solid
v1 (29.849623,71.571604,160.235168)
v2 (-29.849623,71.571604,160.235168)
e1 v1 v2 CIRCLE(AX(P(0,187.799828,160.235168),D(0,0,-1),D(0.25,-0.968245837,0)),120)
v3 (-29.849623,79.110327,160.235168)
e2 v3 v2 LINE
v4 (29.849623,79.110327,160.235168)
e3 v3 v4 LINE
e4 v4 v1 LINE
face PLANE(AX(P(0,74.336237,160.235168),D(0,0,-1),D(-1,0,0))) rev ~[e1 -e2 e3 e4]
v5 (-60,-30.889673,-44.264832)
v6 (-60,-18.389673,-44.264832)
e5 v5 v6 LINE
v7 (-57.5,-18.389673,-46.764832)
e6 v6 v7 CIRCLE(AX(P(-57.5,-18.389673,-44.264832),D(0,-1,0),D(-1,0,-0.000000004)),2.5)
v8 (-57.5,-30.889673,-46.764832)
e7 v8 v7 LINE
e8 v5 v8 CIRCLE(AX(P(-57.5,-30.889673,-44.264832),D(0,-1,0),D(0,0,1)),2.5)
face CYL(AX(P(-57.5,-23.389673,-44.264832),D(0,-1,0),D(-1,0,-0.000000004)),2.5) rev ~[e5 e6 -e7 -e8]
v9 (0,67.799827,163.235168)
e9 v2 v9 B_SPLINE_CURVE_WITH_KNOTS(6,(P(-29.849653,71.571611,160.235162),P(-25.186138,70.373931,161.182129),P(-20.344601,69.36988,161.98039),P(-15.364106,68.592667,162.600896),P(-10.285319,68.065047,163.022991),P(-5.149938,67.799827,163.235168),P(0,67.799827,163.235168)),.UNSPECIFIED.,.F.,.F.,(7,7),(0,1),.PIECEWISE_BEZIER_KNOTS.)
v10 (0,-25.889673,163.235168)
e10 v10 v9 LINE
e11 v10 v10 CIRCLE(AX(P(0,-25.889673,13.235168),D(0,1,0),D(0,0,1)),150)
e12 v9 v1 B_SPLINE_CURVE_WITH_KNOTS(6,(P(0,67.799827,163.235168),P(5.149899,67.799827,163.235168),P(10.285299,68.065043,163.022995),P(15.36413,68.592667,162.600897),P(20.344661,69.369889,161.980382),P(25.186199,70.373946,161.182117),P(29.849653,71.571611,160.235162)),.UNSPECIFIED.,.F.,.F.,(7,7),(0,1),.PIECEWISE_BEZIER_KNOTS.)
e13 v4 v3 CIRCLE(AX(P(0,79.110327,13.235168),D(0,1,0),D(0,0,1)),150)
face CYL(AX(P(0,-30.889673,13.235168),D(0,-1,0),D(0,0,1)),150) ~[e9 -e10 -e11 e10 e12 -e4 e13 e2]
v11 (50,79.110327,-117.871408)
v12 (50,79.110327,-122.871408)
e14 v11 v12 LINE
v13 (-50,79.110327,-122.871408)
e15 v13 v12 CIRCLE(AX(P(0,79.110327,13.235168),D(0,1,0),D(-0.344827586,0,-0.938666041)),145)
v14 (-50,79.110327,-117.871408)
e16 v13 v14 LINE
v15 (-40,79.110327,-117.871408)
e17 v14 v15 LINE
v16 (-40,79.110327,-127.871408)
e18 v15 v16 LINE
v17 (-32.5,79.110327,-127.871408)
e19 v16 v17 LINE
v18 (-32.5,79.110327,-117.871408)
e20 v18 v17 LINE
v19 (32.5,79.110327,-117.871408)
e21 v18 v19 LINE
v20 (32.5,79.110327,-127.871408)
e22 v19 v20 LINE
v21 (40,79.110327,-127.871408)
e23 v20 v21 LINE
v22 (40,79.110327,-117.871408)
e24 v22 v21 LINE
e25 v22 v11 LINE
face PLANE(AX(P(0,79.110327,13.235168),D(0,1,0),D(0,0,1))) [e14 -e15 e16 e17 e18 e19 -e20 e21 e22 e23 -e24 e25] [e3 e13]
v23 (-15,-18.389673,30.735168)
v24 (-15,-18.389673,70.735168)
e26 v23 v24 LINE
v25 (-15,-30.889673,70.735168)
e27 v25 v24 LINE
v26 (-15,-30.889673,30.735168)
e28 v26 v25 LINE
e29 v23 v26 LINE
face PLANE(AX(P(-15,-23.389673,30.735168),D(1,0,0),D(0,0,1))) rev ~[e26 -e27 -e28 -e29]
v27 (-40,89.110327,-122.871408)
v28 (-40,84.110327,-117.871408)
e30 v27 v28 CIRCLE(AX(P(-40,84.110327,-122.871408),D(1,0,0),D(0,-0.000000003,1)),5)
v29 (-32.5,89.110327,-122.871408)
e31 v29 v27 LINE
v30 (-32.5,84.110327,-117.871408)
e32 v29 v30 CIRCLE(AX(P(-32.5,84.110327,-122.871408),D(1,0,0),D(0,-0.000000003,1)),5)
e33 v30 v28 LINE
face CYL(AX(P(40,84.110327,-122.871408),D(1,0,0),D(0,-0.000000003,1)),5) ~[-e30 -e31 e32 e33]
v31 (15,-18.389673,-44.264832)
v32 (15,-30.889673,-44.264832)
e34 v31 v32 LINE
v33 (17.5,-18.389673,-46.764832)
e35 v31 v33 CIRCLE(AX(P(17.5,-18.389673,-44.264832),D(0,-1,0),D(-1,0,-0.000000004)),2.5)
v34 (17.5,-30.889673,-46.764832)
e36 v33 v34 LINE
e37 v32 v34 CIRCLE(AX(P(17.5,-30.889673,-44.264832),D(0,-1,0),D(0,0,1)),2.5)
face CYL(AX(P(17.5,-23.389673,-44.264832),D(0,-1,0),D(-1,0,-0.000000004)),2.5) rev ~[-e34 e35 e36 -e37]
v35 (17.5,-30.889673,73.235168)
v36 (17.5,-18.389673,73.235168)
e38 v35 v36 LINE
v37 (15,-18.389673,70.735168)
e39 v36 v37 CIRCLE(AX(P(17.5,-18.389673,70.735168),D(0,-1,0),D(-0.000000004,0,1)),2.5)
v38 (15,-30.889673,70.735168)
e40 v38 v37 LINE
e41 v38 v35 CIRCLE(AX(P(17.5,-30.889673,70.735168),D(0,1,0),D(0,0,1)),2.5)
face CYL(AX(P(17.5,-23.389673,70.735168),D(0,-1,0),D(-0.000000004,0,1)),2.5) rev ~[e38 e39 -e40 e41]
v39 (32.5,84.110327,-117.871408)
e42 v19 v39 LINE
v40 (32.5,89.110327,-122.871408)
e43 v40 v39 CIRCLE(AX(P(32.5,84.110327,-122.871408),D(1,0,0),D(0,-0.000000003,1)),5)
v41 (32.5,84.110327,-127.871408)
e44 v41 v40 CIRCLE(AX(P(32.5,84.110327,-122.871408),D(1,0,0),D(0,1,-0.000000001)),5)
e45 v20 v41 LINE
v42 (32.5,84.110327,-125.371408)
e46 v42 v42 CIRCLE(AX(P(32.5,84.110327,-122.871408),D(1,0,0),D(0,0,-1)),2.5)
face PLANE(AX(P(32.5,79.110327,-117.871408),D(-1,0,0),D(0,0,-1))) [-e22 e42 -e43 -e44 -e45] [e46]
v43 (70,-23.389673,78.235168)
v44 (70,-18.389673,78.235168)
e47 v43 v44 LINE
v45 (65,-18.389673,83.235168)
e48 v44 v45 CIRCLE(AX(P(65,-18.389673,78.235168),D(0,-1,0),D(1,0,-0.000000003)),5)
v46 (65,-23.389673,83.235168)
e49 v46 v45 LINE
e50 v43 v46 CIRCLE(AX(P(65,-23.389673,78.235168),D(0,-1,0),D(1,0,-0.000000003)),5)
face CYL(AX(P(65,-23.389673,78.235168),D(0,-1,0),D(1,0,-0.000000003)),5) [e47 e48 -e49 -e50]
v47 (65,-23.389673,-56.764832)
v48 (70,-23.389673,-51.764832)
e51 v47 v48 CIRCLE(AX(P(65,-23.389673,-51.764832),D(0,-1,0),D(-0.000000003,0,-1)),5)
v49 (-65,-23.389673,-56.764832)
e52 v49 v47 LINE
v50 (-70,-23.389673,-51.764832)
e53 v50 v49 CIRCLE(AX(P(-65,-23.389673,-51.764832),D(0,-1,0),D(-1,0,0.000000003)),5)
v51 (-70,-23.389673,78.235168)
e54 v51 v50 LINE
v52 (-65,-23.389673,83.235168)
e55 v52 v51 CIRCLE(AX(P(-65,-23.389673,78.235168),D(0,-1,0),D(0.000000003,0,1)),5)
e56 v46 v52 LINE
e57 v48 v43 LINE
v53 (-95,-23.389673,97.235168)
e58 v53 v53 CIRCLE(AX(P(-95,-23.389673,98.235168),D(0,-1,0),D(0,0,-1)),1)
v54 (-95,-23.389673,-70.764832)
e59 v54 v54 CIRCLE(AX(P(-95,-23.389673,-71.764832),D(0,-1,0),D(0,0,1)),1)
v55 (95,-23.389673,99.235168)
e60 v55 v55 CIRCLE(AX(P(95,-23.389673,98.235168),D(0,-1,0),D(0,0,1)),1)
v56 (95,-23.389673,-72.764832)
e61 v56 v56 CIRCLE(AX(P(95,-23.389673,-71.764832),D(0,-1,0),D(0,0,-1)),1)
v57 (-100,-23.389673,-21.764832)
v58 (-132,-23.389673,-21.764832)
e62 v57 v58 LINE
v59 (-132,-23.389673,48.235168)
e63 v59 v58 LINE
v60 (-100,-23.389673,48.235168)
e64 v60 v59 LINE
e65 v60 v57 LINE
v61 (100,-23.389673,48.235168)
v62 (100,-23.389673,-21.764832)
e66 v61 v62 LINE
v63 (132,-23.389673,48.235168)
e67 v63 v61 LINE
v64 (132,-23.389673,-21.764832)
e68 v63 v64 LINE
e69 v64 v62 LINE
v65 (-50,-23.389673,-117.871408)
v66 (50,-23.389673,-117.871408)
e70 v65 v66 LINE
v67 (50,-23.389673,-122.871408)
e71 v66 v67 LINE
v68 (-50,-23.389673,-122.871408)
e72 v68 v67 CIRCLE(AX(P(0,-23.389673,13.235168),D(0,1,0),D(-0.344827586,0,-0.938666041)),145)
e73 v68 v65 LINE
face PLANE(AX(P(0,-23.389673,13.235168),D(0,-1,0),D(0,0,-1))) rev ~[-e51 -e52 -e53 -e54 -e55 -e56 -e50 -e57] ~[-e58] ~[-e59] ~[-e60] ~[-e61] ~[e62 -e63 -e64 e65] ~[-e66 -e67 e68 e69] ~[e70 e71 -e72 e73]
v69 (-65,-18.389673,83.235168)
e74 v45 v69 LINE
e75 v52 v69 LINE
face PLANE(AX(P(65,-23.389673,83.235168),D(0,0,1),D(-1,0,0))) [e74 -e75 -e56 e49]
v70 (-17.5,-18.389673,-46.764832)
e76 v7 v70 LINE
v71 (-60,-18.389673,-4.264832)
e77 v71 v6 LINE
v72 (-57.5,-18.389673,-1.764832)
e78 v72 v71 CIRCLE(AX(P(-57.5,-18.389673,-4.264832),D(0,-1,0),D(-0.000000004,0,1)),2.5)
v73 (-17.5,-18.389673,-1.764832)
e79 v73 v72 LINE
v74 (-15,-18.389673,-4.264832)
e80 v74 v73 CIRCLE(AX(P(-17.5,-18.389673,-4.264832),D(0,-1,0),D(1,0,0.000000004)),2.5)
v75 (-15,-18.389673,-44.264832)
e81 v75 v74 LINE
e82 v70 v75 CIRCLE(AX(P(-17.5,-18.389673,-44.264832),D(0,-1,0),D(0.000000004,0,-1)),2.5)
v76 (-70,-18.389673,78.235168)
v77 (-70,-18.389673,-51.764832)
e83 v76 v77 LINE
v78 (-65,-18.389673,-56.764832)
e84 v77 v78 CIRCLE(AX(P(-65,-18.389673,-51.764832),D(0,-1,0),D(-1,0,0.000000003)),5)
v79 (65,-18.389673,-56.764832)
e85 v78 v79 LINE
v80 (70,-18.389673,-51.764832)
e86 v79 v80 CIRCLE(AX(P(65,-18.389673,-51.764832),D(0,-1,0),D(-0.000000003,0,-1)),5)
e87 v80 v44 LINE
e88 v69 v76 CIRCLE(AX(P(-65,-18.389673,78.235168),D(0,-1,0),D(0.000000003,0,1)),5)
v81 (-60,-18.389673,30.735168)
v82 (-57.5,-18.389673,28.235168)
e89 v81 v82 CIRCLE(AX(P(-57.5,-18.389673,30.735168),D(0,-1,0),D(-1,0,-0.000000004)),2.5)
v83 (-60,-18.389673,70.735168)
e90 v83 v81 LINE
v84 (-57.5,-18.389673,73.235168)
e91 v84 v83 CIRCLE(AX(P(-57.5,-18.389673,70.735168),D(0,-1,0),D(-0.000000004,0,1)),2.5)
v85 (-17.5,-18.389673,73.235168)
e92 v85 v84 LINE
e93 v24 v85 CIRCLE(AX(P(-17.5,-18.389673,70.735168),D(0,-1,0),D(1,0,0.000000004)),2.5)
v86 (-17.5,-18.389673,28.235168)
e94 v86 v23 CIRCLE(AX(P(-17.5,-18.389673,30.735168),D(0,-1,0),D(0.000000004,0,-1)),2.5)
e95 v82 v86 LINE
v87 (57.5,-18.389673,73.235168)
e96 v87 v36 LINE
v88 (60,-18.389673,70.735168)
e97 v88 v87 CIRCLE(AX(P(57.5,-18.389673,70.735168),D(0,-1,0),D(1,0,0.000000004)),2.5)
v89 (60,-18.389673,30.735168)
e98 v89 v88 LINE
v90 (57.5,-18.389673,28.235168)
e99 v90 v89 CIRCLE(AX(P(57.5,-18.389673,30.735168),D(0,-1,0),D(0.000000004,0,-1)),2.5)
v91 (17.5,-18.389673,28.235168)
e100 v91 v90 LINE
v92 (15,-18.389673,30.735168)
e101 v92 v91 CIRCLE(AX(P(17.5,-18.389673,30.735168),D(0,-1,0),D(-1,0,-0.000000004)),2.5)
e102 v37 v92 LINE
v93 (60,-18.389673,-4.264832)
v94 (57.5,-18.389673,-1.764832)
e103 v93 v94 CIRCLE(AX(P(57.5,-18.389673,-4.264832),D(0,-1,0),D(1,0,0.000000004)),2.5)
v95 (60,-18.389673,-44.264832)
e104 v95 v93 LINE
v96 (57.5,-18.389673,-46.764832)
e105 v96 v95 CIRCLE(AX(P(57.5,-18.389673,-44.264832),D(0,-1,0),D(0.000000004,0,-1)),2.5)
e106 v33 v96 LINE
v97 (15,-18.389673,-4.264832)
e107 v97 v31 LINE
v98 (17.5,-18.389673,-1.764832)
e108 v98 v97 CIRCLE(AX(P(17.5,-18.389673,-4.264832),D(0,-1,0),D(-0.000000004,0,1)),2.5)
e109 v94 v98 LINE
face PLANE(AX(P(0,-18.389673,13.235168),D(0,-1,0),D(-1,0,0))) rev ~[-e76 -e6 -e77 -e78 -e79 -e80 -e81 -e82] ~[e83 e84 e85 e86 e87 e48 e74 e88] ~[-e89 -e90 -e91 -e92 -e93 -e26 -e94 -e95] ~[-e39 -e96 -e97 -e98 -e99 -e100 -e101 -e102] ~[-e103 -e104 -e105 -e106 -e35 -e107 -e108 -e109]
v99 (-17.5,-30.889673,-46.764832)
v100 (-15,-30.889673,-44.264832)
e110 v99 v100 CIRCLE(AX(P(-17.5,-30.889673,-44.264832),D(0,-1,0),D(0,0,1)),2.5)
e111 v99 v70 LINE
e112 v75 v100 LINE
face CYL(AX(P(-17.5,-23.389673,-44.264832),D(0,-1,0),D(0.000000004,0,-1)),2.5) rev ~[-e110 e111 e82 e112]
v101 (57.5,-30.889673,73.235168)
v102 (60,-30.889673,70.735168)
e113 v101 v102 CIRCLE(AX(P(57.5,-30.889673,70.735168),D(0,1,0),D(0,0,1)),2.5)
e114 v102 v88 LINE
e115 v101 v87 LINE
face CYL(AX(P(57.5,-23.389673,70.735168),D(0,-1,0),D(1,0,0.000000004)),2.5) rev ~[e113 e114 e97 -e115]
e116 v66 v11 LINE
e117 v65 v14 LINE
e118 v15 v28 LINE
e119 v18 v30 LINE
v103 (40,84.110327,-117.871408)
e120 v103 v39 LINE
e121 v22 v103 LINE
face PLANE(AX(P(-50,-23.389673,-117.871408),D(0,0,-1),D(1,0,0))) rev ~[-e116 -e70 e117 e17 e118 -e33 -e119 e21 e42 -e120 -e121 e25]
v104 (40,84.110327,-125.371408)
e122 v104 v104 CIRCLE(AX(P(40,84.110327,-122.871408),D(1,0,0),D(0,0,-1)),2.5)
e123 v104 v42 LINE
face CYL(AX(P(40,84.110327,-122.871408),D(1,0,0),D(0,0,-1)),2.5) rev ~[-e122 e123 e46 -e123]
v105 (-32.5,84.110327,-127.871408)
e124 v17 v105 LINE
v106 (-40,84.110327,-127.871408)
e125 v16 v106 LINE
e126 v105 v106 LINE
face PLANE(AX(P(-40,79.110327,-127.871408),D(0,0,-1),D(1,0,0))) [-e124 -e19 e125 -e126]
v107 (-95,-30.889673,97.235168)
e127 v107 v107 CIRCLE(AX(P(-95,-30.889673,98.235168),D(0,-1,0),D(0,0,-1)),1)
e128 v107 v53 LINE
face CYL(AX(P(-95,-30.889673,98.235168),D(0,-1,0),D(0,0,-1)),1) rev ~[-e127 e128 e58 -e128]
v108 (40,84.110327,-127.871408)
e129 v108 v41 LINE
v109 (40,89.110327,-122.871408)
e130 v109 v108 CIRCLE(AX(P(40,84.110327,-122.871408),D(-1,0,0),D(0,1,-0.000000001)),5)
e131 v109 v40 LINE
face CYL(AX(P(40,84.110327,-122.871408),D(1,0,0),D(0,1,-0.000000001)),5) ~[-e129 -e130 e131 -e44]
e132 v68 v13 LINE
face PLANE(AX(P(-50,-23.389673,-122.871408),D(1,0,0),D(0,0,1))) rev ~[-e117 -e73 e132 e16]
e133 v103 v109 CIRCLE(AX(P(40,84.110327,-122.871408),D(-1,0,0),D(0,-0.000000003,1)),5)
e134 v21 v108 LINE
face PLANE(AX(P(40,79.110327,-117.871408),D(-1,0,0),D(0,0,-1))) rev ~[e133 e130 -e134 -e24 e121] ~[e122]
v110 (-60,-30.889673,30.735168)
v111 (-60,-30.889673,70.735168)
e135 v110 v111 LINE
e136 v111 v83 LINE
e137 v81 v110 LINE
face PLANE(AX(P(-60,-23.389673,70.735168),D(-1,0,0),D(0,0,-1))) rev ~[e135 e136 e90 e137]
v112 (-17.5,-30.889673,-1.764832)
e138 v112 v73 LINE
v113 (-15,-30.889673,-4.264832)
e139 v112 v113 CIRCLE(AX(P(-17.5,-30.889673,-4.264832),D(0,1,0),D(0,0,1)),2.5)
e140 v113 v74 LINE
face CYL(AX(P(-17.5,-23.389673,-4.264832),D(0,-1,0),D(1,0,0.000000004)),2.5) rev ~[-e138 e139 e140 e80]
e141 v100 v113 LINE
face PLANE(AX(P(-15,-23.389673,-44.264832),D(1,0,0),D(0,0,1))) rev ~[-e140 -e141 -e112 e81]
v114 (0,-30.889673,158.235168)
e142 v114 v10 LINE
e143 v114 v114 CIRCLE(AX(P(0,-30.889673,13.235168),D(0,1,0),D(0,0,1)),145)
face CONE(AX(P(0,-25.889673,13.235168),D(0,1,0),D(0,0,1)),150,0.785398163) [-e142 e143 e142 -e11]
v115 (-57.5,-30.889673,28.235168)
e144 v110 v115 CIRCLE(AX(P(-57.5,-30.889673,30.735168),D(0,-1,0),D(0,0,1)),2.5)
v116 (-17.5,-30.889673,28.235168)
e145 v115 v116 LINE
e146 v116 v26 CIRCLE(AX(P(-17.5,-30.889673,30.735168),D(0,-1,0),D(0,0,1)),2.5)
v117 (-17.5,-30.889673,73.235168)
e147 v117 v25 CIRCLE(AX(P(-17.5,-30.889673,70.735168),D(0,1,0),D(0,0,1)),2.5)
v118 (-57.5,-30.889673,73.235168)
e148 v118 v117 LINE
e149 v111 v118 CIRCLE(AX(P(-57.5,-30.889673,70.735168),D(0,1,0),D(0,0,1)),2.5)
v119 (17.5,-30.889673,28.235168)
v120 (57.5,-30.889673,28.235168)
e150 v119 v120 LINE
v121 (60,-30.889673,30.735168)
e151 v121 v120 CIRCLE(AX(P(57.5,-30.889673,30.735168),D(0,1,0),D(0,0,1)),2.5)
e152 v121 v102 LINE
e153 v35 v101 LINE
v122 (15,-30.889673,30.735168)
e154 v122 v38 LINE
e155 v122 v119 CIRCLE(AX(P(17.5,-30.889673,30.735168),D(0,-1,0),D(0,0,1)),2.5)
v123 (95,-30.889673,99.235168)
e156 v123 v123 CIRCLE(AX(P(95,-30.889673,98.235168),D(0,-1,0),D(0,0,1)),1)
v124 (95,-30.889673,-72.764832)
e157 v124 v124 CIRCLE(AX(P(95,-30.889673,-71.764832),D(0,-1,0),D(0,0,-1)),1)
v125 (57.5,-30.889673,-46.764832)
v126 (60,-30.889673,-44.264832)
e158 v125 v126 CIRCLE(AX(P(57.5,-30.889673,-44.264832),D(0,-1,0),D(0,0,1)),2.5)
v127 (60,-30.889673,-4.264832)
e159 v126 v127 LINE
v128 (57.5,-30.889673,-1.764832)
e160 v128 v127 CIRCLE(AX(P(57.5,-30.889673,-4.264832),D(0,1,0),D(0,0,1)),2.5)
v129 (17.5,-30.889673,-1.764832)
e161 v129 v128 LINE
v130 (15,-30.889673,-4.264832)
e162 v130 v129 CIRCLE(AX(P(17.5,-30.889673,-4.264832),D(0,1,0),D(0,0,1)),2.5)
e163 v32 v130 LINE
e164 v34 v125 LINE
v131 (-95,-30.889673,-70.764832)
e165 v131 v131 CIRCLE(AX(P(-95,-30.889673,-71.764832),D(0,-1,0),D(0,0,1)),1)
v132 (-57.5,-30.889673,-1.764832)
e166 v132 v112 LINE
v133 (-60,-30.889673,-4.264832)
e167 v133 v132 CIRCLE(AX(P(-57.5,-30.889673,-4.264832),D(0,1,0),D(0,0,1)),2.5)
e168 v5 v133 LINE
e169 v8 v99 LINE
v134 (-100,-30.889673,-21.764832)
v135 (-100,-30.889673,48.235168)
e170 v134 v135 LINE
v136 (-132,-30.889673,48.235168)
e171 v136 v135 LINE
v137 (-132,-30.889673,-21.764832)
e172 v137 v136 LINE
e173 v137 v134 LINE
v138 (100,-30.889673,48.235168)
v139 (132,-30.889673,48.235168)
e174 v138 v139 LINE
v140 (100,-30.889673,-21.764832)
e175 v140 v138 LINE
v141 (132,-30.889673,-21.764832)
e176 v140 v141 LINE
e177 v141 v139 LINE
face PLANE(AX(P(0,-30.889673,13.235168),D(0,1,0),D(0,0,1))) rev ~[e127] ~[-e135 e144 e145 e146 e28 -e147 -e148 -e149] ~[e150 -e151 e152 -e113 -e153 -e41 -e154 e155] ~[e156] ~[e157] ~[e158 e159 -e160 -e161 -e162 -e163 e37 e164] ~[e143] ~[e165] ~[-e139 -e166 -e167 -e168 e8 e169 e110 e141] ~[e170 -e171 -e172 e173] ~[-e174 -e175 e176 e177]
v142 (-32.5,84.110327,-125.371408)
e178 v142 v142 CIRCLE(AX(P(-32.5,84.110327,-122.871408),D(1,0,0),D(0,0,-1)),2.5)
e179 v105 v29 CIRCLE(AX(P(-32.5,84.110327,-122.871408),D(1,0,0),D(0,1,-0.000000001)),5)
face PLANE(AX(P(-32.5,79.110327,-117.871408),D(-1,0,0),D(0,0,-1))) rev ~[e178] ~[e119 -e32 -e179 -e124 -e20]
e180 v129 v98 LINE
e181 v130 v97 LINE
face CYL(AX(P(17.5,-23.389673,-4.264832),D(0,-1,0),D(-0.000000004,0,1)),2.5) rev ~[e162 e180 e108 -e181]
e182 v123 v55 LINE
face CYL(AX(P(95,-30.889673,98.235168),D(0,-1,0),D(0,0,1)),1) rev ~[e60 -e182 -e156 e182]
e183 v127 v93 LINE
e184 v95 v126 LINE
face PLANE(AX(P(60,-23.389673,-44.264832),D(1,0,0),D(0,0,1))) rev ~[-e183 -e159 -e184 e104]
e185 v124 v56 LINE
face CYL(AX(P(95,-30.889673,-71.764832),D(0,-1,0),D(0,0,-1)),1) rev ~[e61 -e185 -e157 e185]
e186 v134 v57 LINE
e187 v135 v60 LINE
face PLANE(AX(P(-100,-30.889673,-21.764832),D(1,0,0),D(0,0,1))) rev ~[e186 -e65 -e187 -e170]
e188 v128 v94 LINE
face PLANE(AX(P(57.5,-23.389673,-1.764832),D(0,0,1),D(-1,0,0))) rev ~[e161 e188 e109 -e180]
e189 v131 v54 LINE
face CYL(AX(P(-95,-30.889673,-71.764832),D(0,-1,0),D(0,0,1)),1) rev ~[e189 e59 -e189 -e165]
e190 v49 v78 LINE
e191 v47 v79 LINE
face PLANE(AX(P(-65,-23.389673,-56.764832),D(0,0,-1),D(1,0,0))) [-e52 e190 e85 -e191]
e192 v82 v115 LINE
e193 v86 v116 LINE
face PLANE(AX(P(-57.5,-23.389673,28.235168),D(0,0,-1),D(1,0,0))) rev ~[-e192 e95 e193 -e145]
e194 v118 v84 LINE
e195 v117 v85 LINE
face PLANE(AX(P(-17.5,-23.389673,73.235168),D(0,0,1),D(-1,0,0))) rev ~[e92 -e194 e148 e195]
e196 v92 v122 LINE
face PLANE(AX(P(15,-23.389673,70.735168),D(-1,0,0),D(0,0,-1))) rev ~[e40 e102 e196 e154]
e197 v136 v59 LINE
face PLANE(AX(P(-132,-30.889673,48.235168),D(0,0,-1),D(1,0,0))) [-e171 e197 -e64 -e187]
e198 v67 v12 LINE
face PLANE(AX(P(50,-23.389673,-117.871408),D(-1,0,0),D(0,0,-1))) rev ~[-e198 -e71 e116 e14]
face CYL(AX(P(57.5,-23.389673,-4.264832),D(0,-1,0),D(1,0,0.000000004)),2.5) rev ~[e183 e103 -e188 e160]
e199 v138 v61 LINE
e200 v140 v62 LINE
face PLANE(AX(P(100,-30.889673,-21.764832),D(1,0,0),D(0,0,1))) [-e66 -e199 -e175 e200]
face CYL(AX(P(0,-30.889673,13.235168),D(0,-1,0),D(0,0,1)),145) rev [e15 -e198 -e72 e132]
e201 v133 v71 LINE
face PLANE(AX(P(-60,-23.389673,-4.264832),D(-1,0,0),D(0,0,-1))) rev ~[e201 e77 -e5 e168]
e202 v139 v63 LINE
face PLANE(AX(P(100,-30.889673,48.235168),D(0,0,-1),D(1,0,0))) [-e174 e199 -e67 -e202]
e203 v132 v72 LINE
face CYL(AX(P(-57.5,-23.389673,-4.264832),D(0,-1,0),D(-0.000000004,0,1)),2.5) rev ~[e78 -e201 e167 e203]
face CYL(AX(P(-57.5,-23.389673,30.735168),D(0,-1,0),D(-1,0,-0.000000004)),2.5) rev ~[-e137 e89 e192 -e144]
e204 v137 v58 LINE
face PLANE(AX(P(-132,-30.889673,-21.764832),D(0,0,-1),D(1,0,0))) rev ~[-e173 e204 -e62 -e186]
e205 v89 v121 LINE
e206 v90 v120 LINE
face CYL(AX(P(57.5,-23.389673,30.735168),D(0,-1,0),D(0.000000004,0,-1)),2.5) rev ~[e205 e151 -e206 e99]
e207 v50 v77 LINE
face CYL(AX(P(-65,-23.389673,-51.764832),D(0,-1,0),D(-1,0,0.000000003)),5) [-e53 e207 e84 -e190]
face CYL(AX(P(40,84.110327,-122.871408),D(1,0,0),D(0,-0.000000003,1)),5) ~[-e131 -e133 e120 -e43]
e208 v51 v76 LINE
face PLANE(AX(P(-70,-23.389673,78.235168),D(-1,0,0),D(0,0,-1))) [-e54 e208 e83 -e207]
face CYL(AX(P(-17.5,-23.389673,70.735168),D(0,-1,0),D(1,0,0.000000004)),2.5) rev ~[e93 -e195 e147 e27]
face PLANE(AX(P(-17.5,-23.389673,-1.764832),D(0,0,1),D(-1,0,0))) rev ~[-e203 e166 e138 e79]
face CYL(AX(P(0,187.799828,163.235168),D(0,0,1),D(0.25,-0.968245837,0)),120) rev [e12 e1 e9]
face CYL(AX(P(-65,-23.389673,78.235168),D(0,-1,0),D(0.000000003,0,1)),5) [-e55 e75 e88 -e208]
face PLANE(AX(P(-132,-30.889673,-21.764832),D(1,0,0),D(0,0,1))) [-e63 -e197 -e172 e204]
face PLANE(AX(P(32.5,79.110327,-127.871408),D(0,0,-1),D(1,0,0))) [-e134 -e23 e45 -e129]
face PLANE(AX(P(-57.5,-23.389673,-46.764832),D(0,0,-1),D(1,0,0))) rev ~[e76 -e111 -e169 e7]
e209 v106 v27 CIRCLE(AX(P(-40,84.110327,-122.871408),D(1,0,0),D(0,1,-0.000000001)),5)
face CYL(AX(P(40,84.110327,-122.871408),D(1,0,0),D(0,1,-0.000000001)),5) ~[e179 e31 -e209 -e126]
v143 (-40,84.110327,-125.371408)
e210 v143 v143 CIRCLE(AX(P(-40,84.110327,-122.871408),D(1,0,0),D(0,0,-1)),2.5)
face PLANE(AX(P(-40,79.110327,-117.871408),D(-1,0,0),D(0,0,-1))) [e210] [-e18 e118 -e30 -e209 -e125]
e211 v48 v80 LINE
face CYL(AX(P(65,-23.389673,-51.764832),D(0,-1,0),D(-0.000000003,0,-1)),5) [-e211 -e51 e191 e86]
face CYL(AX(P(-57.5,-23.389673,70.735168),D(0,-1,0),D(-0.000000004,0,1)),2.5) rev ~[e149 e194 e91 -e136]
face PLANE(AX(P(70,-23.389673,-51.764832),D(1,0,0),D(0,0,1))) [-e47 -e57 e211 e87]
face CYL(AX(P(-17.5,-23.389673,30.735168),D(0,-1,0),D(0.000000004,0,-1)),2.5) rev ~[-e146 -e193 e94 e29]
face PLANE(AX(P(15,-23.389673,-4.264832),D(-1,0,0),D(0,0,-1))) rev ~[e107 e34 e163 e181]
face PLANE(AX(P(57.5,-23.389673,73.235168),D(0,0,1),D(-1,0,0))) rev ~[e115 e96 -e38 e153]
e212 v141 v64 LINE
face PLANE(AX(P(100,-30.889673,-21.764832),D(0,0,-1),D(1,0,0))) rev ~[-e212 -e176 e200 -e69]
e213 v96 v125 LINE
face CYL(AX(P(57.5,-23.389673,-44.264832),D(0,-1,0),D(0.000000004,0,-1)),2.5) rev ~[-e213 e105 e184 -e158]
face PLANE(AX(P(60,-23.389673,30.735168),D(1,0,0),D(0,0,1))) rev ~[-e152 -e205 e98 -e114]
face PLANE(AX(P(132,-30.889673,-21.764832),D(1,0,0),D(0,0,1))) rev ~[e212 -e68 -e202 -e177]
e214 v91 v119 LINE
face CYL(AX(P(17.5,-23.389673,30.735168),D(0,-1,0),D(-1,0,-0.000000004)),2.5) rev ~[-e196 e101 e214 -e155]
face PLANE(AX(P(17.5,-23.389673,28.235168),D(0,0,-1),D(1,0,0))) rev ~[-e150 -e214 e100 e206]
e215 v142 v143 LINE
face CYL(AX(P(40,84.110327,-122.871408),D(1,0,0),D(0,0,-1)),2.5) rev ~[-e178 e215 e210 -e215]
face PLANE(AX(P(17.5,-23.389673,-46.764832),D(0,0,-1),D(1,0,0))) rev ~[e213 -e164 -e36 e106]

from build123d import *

# Parameters (mm, degrees)
SKETCH1_R                 = 15
BOSS_EXTRUDE1_DEPTH       = 11
SHELL1_T                  = -0.5
SHELL1_THICKNESS_2_FACE_R = 14.5
SHELL1_THICKNESS_2_DEPTH  = 0.25
CUT_EXTRUDE1_REACH        = 25.896
SKETCH2_R                 = 0.1
SKETCH2_W                 = 4.5
SKETCH2_H                 = 4.5
SKETCH2_W_2               = 3.2
SKETCH2_H_2               = 7
CHAMFER1_SIZE             = 0.5
FILLET1_R                 = 0.25
CUT_EXTRUDE2_START        = 15
CUT_EXTRUDE2_DEPTH        = 0.3
BOSS_EXTRUDE2_DEPTH       = 10.25
SKETCH7_W                 = 0.75
SKETCH7_H                 = 1
BOSS_EXTRUDE3_DEPTH       = 1
SKETCH8_R                 = 0.25
CUT_EXTRUDE3_DEPTH        = 28.018512298
BOSS_EXTRUDE5_DEPTH       = 0.5
MIRROR2_COPY_1_DEPTH      = 0.5
SCALE1_SCALE              = 10


with BuildPart() as part:
    # Sketch1 → Boss-Extrude1 (new body)
    with BuildSketch(Plane(origin=(0, 0, 0), x_dir=(1, 0, 0), z_dir=(0, 1, 0))):
        with Locations(Location((0, 0, 0), (0, 0, 270))):
            Circle(SKETCH1_R)
    extrude(amount=BOSS_EXTRUDE1_DEPTH)

    # Shell1
    shell1_openings = [part.faces().sort_by_distance(p)[0] for p in [
        (0, 11, 0),
    ]]
    offset(amount=SHELL1_T, openings=shell1_openings, kind=Kind.INTERSECTION)

    # Shell1 thickness 2 face (on inner face of the shell) → Shell1 thickness 2 (add)
    with BuildSketch(Plane(origin=(0, 0.5, 0), x_dir=(0, 0, -1), z_dir=(0, -1, 0))):
        Circle(SHELL1_THICKNESS_2_FACE_R)
    extrude(amount=-SHELL1_THICKNESS_2_DEPTH)

    # Sketch2 → Cut-Extrude1 (cut, up to next)
    with BuildSketch(Plane.XZ, mode=Mode.PRIVATE) as cut_extrude1_sk1:
        with Locations(Location((-9.5, 8.5, 0), (0, 0, 270))):
            Circle(SKETCH2_R)
    cut_extrude1_tool1 = extrude(cut_extrude1_sk1.sketch, amount=-CUT_EXTRUDE1_REACH, mode=Mode.PRIVATE) & part.part
    # Sketch2 → Cut-Extrude1 (cut, up to next)
    with BuildSketch(Plane.XZ, mode=Mode.PRIVATE) as cut_extrude1_sk2:
        with Locations(Location((-9.5, -8.5, 0), (0, 0, 90))):
            Circle(SKETCH2_R)
    cut_extrude1_tool2 = extrude(cut_extrude1_sk2.sketch, amount=-CUT_EXTRUDE1_REACH, mode=Mode.PRIVATE) & part.part
    # Sketch2 → Cut-Extrude1 (cut, up to next)
    with BuildSketch(Plane.XZ, mode=Mode.PRIVATE) as cut_extrude1_sk3:
        with Locations(Location((9.5, 8.5, 0), (0, 0, 90))):
            Circle(SKETCH2_R)
    cut_extrude1_tool3 = extrude(cut_extrude1_sk3.sketch, amount=-CUT_EXTRUDE1_REACH, mode=Mode.PRIVATE) & part.part
    # Sketch2 → Cut-Extrude1 (cut, up to next)
    with BuildSketch(Plane.XZ, mode=Mode.PRIVATE) as cut_extrude1_sk4:
        with Locations(Location((9.5, -8.5, 0), (0, 0, 270))):
            Circle(SKETCH2_R)
    cut_extrude1_tool4 = extrude(cut_extrude1_sk4.sketch, amount=-CUT_EXTRUDE1_REACH, mode=Mode.PRIVATE) & part.part
    # Sketch2 → Cut-Extrude1 (cut, up to next)
    with BuildSketch(Plane.XZ, mode=Mode.PRIVATE) as cut_extrude1_sk5:
        with Locations((-3.75, 3.75)):
            Rectangle(SKETCH2_W, SKETCH2_H)
    cut_extrude1_tool5 = extrude(cut_extrude1_sk5.sketch, amount=-CUT_EXTRUDE1_REACH, mode=Mode.PRIVATE) & part.part
    # Sketch2 → Cut-Extrude1 (cut, up to next)
    with BuildSketch(Plane.XZ, mode=Mode.PRIVATE) as cut_extrude1_sk6:
        with Locations((-3.75, -3.75)):
            Rectangle(SKETCH2_W, SKETCH2_H)
    cut_extrude1_tool6 = extrude(cut_extrude1_sk6.sketch, amount=-CUT_EXTRUDE1_REACH, mode=Mode.PRIVATE) & part.part
    # Sketch2 → Cut-Extrude1 (cut, up to next)
    with BuildSketch(Plane.XZ, mode=Mode.PRIVATE) as cut_extrude1_sk7:
        with Locations((11.6, 0)):
            Rectangle(SKETCH2_W_2, SKETCH2_H_2)
    cut_extrude1_tool7 = extrude(cut_extrude1_sk7.sketch, amount=-CUT_EXTRUDE1_REACH, mode=Mode.PRIVATE) & part.part
    # Sketch2 → Cut-Extrude1 (cut, up to next)
    with BuildSketch(Plane.XZ, mode=Mode.PRIVATE) as cut_extrude1_sk8:
        with Locations((-11.6, 0)):
            Rectangle(SKETCH2_W_2, SKETCH2_H_2)
    cut_extrude1_tool8 = extrude(cut_extrude1_sk8.sketch, amount=-CUT_EXTRUDE1_REACH, mode=Mode.PRIVATE) & part.part
    # Sketch2 → Cut-Extrude1 (cut, up to next)
    with BuildSketch(Plane.XZ, mode=Mode.PRIVATE) as cut_extrude1_sk9:
        with Locations((3.75, -3.75)):
            Rectangle(SKETCH2_W, SKETCH2_H)
    cut_extrude1_tool9 = extrude(cut_extrude1_sk9.sketch, amount=-CUT_EXTRUDE1_REACH, mode=Mode.PRIVATE) & part.part
    # Sketch2 → Cut-Extrude1 (cut, up to next)
    with BuildSketch(Plane.XZ, mode=Mode.PRIVATE) as cut_extrude1_sk10:
        with Locations((3.75, 3.75)):
            Rectangle(SKETCH2_W, SKETCH2_H)
    cut_extrude1_tool10 = extrude(cut_extrude1_sk10.sketch, amount=-CUT_EXTRUDE1_REACH, mode=Mode.PRIVATE) & part.part
    add(cut_extrude1_tool1.solids().sort_by_distance((-9.5, 0, 8.5))[0], mode=Mode.SUBTRACT)
    add(cut_extrude1_tool2.solids().sort_by_distance((-9.5, 0, -8.5))[0], mode=Mode.SUBTRACT)
    add(cut_extrude1_tool3.solids().sort_by_distance((9.5, 0, 8.5))[0], mode=Mode.SUBTRACT)
    add(cut_extrude1_tool4.solids().sort_by_distance((9.5, 0, -8.5))[0], mode=Mode.SUBTRACT)
    add(cut_extrude1_tool5.solids().sort_by_distance((-3.75, 0, 3.75))[0], mode=Mode.SUBTRACT)
    add(cut_extrude1_tool6.solids().sort_by_distance((-3.75, 0, -3.75))[0], mode=Mode.SUBTRACT)
    add(cut_extrude1_tool7.solids().sort_by_distance((11.6, 0, 0))[0], mode=Mode.SUBTRACT)
    add(cut_extrude1_tool8.solids().sort_by_distance((-11.6, 0, 0))[0], mode=Mode.SUBTRACT)
    add(cut_extrude1_tool9.solids().sort_by_distance((3.75, 0, -3.75))[0], mode=Mode.SUBTRACT)
    add(cut_extrude1_tool10.solids().sort_by_distance((3.75, 0, 3.75))[0], mode=Mode.SUBTRACT)

    # Chamfer1
    chamfer1_edges = [part.edges().sort_by_distance(p)[0] for p in [
        (0, 0, -15),
    ]]
    chamfer(chamfer1_edges, length=CHAMFER1_SIZE)

    # Fillet1
    fillet1_edges = [part.edges().sort_by_distance(p)[0] for p in [
        (-1.5, 0.375, -6),
        (-6, 0.375, -6),
        (-6, 0.375, -1.5),
        (-1.5, 0.375, -1.5),
        (6, 0.375, -1.5),
        (6, 0.375, -6),
        (1.5, 0.375, -6),
        (1.5, 0.375, -1.5),
        (1.5, 0.375, 6),
        (6, 0.375, 6),
        (6, 0.375, 1.5),
        (1.5, 0.375, 1.5),
        (-6, 0.375, 1.5),
        (-6, 0.375, 6),
        (-1.5, 0.375, 6),
        (-1.5, 0.375, 1.5),
    ]]
    fillet(fillet1_edges, radius=FILLET1_R)

    # Sketch4 → Cut-Extrude2 (cut)
    with BuildSketch(Plane.XY.offset(CUT_EXTRUDE2_START)):
        with BuildLine():
            Line((-3, 11), (3, 11))
            Line((3, 11), (3, 10.25))
            ThreePointArc((3, 10.25), (0, 9.868950039), (-3, 10.25))
            Line((-3, 10.25), (-3, 11))
        make_face()
    extrude(amount=-CUT_EXTRUDE2_DEPTH, mode=Mode.SUBTRACT)

    # Sketch5 → Boss-Extrude2 (add)
    with BuildSketch(Plane(origin=(0, 0.75, 0), x_dir=(1, 0, 0), z_dir=(0, 1, 0))):
        with BuildLine():
            Line((-5, 13.610657589), (-5, 13.110657589))
            Line((-5, 13.110657589), (5, 13.110657589))
            Line((5, 13.110657589), (5, 13.610657589))
            ThreePointArc((5, 13.610657589), (0, 14.5), (-5, 13.610657589))
        make_face()
    extrude(amount=BOSS_EXTRUDE2_DEPTH)

    # Sketch7 → Boss-Extrude3 (add)
    with BuildSketch(Plane(origin=(0, 11, 0), x_dir=(1, 0, 0), z_dir=(0, 1, 0))):
        with Locations((3.625, 13.610657589)):
            Rectangle(SKETCH7_W, SKETCH7_H)
        with Locations((-3.625, 13.610657589)):
            Rectangle(SKETCH7_W, SKETCH7_H)
    extrude(amount=BOSS_EXTRUDE3_DEPTH)

    # Sketch8 → Cut-Extrude3 (cut, through all)
    with BuildSketch(Plane(origin=(4, 0, 0), x_dir=(0, 0, -1), z_dir=(1, 0, 0))):
        with BuildLine():
            Line((13.110657589, 12), (13.110657589, 11.5))
            ThreePointArc((13.110657589, 11.5), (13.257104198, 11.853553391), (13.610657589, 12))
            Line((13.610657589, 12), (13.110657589, 12))
        make_face()
        with BuildLine():
            Line((14.110657589, 12), (13.610657589, 12))
            ThreePointArc((13.610657589, 12), (13.964210979, 11.853553391), (14.110657589, 11.5))
            Line((14.110657589, 11.5), (14.110657589, 12))
        make_face()
        with Locations((13.610657589, 11.5)):
            Circle(SKETCH8_R)
    extrude(amount=-CUT_EXTRUDE3_DEPTH, mode=Mode.SUBTRACT)

    # Sketch10 → Boss-Extrude5 (add)
    with BuildSketch(Plane(origin=(0, 0.75, 0), x_dir=(1, 0, 0), z_dir=(0, 1, 0))):
        with BuildLine():
            Line((-6.5, 7), (6.5, 7))
            ThreePointArc((6.5, 7), (6.853553391, 6.853553391), (7, 6.5))
            Line((7, 6.5), (7, -6.5))
            ThreePointArc((7, -6.5), (6.853553391, -6.853553391), (6.5, -7))
            Line((6.5, -7), (-6.5, -7))
            ThreePointArc((-6.5, -7), (-6.853553391, -6.853553391), (-7, -6.5))
            Line((-7, -6.5), (-7, 6.5))
            ThreePointArc((-7, 6.5), (-6.853553391, 6.853553391), (-6.5, 7))
        make_face()
        with BuildLine():
            Line((-1.5, -1.75), (-1.5, -5.75))
            ThreePointArc((-1.5, -5.75), (-1.573223305, -5.926776695), (-1.75, -6))
            Line((-1.75, -6), (-5.75, -6))
            ThreePointArc((-5.75, -6), (-5.926776695, -5.926776695), (-6, -5.75))
            Line((-6, -5.75), (-6, -1.75))
            ThreePointArc((-6, -1.75), (-5.926776695, -1.573223305), (-5.75, -1.5))
            Line((-5.75, -1.5), (-1.75, -1.5))
            ThreePointArc((-1.75, -1.5), (-1.573223305, -1.573223305), (-1.5, -1.75))
        make_face(mode=Mode.SUBTRACT)
        with BuildLine():
            Line((6, -1.75), (6, -5.75))
            ThreePointArc((6, -5.75), (5.926776695, -5.926776695), (5.75, -6))
            Line((5.75, -6), (1.75, -6))
            ThreePointArc((1.75, -6), (1.573223305, -5.926776695), (1.5, -5.75))
            Line((1.5, -5.75), (1.5, -1.75))
            ThreePointArc((1.5, -1.75), (1.573223305, -1.573223305), (1.75, -1.5))
            Line((1.75, -1.5), (5.75, -1.5))
            ThreePointArc((5.75, -1.5), (5.926776695, -1.573223305), (6, -1.75))
        make_face(mode=Mode.SUBTRACT)
        with BuildLine():
            Line((6, 5.75), (6, 1.75))
            ThreePointArc((6, 1.75), (5.926776695, 1.573223305), (5.75, 1.5))
            Line((5.75, 1.5), (1.75, 1.5))
            ThreePointArc((1.75, 1.5), (1.573223305, 1.573223305), (1.5, 1.75))
            Line((1.5, 1.75), (1.5, 5.75))
            ThreePointArc((1.5, 5.75), (1.573223305, 5.926776695), (1.75, 6))
            Line((1.75, 6), (5.75, 6))
            ThreePointArc((5.75, 6), (5.926776695, 5.926776695), (6, 5.75))
        make_face(mode=Mode.SUBTRACT)
        with BuildLine():
            Line((-1.5, 5.75), (-1.5, 1.75))
            ThreePointArc((-1.5, 1.75), (-1.573223305, 1.573223305), (-1.75, 1.5))
            Line((-1.75, 1.5), (-5.75, 1.5))
            ThreePointArc((-5.75, 1.5), (-5.926776695, 1.573223305), (-6, 1.75))
            Line((-6, 1.75), (-6, 5.75))
            ThreePointArc((-6, 5.75), (-5.926776695, 5.926776695), (-5.75, 6))
            Line((-5.75, 6), (-1.75, 6))
            ThreePointArc((-1.75, 6), (-1.573223305, 5.926776695), (-1.5, 5.75))
        make_face(mode=Mode.SUBTRACT)
    boss_extrude5 = extrude(amount=BOSS_EXTRUDE5_DEPTH)

    # Mirror1: Boss-Extrude5 across plane
    add(boss_extrude5.mirror(Plane(origin=(0, 0, 0), x_dir=(0, 0, 1), z_dir=(1, 0, 0))))

    # Mirror2: Boss-Extrude5 across plane
    add(boss_extrude5.mirror(Plane.XY))

    # Mirror2 copy 1 sketch → Mirror2 copy 1 (add)
    with BuildSketch(Plane(origin=(0, 0.75, 0), x_dir=(-1, 0, 0), z_dir=(0, 1, 0))):
        with BuildLine():
            Line((-6.5, 7), (6.5, 7))
            ThreePointArc((6.5, 7), (6.853553391, 6.853553391), (7, 6.5))
            Line((7, 6.5), (7, -6.5))
            ThreePointArc((7, -6.5), (6.853553391, -6.853553391), (6.5, -7))
            Line((6.5, -7), (-6.5, -7))
            ThreePointArc((-6.5, -7), (-6.853553391, -6.853553391), (-7, -6.5))
            Line((-7, -6.5), (-7, 6.5))
            ThreePointArc((-7, 6.5), (-6.853553391, 6.853553391), (-6.5, 7))
        make_face()
        with BuildLine():
            Line((-1.5, -1.75), (-1.5, -5.75))
            ThreePointArc((-1.5, -5.75), (-1.573223305, -5.926776695), (-1.75, -6))
            Line((-1.75, -6), (-5.75, -6))
            ThreePointArc((-5.75, -6), (-5.926776695, -5.926776695), (-6, -5.75))
            Line((-6, -5.75), (-6, -1.75))
            ThreePointArc((-6, -1.75), (-5.926776695, -1.573223305), (-5.75, -1.5))
            Line((-5.75, -1.5), (-1.75, -1.5))
            ThreePointArc((-1.75, -1.5), (-1.573223305, -1.573223305), (-1.5, -1.75))
        make_face(mode=Mode.SUBTRACT)
        with BuildLine():
            Line((6, -1.75), (6, -5.75))
            ThreePointArc((6, -5.75), (5.926776695, -5.926776695), (5.75, -6))
            Line((5.75, -6), (1.75, -6))
            ThreePointArc((1.75, -6), (1.573223305, -5.926776695), (1.5, -5.75))
            Line((1.5, -5.75), (1.5, -1.75))
            ThreePointArc((1.5, -1.75), (1.573223305, -1.573223305), (1.75, -1.5))
            Line((1.75, -1.5), (5.75, -1.5))
            ThreePointArc((5.75, -1.5), (5.926776695, -1.573223305), (6, -1.75))
        make_face(mode=Mode.SUBTRACT)
        with BuildLine():
            Line((6, 5.75), (6, 1.75))
            ThreePointArc((6, 1.75), (5.926776695, 1.573223305), (5.75, 1.5))
            Line((5.75, 1.5), (1.75, 1.5))
            ThreePointArc((1.75, 1.5), (1.573223305, 1.573223305), (1.5, 1.75))
            Line((1.5, 1.75), (1.5, 5.75))
            ThreePointArc((1.5, 5.75), (1.573223305, 5.926776695), (1.75, 6))
            Line((1.75, 6), (5.75, 6))
            ThreePointArc((5.75, 6), (5.926776695, 5.926776695), (6, 5.75))
        make_face(mode=Mode.SUBTRACT)
        with BuildLine():
            Line((-1.5, 5.75), (-1.5, 1.75))
            ThreePointArc((-1.5, 1.75), (-1.573223305, 1.573223305), (-1.75, 1.5))
            Line((-1.75, 1.5), (-5.75, 1.5))
            ThreePointArc((-5.75, 1.5), (-5.926776695, 1.573223305), (-6, 1.75))
            Line((-6, 1.75), (-6, 5.75))
            ThreePointArc((-6, 5.75), (-5.926776695, 5.926776695), (-5.75, 6))
            Line((-5.75, 6), (-1.75, 6))
            ThreePointArc((-1.75, 6), (-1.573223305, 5.926776695), (-1.5, 5.75))
        make_face(mode=Mode.SUBTRACT)
    extrude(amount=MIRROR2_COPY_1_DEPTH)


with BuildPart() as part_1:
    # Scale1: scaled about (0, 3.432185883, -1.470574169)
    add(part.part.scale(SCALE1_SCALE).moved(Location((0, -30.889672947, 13.235167521))))


solid = part_1.part
